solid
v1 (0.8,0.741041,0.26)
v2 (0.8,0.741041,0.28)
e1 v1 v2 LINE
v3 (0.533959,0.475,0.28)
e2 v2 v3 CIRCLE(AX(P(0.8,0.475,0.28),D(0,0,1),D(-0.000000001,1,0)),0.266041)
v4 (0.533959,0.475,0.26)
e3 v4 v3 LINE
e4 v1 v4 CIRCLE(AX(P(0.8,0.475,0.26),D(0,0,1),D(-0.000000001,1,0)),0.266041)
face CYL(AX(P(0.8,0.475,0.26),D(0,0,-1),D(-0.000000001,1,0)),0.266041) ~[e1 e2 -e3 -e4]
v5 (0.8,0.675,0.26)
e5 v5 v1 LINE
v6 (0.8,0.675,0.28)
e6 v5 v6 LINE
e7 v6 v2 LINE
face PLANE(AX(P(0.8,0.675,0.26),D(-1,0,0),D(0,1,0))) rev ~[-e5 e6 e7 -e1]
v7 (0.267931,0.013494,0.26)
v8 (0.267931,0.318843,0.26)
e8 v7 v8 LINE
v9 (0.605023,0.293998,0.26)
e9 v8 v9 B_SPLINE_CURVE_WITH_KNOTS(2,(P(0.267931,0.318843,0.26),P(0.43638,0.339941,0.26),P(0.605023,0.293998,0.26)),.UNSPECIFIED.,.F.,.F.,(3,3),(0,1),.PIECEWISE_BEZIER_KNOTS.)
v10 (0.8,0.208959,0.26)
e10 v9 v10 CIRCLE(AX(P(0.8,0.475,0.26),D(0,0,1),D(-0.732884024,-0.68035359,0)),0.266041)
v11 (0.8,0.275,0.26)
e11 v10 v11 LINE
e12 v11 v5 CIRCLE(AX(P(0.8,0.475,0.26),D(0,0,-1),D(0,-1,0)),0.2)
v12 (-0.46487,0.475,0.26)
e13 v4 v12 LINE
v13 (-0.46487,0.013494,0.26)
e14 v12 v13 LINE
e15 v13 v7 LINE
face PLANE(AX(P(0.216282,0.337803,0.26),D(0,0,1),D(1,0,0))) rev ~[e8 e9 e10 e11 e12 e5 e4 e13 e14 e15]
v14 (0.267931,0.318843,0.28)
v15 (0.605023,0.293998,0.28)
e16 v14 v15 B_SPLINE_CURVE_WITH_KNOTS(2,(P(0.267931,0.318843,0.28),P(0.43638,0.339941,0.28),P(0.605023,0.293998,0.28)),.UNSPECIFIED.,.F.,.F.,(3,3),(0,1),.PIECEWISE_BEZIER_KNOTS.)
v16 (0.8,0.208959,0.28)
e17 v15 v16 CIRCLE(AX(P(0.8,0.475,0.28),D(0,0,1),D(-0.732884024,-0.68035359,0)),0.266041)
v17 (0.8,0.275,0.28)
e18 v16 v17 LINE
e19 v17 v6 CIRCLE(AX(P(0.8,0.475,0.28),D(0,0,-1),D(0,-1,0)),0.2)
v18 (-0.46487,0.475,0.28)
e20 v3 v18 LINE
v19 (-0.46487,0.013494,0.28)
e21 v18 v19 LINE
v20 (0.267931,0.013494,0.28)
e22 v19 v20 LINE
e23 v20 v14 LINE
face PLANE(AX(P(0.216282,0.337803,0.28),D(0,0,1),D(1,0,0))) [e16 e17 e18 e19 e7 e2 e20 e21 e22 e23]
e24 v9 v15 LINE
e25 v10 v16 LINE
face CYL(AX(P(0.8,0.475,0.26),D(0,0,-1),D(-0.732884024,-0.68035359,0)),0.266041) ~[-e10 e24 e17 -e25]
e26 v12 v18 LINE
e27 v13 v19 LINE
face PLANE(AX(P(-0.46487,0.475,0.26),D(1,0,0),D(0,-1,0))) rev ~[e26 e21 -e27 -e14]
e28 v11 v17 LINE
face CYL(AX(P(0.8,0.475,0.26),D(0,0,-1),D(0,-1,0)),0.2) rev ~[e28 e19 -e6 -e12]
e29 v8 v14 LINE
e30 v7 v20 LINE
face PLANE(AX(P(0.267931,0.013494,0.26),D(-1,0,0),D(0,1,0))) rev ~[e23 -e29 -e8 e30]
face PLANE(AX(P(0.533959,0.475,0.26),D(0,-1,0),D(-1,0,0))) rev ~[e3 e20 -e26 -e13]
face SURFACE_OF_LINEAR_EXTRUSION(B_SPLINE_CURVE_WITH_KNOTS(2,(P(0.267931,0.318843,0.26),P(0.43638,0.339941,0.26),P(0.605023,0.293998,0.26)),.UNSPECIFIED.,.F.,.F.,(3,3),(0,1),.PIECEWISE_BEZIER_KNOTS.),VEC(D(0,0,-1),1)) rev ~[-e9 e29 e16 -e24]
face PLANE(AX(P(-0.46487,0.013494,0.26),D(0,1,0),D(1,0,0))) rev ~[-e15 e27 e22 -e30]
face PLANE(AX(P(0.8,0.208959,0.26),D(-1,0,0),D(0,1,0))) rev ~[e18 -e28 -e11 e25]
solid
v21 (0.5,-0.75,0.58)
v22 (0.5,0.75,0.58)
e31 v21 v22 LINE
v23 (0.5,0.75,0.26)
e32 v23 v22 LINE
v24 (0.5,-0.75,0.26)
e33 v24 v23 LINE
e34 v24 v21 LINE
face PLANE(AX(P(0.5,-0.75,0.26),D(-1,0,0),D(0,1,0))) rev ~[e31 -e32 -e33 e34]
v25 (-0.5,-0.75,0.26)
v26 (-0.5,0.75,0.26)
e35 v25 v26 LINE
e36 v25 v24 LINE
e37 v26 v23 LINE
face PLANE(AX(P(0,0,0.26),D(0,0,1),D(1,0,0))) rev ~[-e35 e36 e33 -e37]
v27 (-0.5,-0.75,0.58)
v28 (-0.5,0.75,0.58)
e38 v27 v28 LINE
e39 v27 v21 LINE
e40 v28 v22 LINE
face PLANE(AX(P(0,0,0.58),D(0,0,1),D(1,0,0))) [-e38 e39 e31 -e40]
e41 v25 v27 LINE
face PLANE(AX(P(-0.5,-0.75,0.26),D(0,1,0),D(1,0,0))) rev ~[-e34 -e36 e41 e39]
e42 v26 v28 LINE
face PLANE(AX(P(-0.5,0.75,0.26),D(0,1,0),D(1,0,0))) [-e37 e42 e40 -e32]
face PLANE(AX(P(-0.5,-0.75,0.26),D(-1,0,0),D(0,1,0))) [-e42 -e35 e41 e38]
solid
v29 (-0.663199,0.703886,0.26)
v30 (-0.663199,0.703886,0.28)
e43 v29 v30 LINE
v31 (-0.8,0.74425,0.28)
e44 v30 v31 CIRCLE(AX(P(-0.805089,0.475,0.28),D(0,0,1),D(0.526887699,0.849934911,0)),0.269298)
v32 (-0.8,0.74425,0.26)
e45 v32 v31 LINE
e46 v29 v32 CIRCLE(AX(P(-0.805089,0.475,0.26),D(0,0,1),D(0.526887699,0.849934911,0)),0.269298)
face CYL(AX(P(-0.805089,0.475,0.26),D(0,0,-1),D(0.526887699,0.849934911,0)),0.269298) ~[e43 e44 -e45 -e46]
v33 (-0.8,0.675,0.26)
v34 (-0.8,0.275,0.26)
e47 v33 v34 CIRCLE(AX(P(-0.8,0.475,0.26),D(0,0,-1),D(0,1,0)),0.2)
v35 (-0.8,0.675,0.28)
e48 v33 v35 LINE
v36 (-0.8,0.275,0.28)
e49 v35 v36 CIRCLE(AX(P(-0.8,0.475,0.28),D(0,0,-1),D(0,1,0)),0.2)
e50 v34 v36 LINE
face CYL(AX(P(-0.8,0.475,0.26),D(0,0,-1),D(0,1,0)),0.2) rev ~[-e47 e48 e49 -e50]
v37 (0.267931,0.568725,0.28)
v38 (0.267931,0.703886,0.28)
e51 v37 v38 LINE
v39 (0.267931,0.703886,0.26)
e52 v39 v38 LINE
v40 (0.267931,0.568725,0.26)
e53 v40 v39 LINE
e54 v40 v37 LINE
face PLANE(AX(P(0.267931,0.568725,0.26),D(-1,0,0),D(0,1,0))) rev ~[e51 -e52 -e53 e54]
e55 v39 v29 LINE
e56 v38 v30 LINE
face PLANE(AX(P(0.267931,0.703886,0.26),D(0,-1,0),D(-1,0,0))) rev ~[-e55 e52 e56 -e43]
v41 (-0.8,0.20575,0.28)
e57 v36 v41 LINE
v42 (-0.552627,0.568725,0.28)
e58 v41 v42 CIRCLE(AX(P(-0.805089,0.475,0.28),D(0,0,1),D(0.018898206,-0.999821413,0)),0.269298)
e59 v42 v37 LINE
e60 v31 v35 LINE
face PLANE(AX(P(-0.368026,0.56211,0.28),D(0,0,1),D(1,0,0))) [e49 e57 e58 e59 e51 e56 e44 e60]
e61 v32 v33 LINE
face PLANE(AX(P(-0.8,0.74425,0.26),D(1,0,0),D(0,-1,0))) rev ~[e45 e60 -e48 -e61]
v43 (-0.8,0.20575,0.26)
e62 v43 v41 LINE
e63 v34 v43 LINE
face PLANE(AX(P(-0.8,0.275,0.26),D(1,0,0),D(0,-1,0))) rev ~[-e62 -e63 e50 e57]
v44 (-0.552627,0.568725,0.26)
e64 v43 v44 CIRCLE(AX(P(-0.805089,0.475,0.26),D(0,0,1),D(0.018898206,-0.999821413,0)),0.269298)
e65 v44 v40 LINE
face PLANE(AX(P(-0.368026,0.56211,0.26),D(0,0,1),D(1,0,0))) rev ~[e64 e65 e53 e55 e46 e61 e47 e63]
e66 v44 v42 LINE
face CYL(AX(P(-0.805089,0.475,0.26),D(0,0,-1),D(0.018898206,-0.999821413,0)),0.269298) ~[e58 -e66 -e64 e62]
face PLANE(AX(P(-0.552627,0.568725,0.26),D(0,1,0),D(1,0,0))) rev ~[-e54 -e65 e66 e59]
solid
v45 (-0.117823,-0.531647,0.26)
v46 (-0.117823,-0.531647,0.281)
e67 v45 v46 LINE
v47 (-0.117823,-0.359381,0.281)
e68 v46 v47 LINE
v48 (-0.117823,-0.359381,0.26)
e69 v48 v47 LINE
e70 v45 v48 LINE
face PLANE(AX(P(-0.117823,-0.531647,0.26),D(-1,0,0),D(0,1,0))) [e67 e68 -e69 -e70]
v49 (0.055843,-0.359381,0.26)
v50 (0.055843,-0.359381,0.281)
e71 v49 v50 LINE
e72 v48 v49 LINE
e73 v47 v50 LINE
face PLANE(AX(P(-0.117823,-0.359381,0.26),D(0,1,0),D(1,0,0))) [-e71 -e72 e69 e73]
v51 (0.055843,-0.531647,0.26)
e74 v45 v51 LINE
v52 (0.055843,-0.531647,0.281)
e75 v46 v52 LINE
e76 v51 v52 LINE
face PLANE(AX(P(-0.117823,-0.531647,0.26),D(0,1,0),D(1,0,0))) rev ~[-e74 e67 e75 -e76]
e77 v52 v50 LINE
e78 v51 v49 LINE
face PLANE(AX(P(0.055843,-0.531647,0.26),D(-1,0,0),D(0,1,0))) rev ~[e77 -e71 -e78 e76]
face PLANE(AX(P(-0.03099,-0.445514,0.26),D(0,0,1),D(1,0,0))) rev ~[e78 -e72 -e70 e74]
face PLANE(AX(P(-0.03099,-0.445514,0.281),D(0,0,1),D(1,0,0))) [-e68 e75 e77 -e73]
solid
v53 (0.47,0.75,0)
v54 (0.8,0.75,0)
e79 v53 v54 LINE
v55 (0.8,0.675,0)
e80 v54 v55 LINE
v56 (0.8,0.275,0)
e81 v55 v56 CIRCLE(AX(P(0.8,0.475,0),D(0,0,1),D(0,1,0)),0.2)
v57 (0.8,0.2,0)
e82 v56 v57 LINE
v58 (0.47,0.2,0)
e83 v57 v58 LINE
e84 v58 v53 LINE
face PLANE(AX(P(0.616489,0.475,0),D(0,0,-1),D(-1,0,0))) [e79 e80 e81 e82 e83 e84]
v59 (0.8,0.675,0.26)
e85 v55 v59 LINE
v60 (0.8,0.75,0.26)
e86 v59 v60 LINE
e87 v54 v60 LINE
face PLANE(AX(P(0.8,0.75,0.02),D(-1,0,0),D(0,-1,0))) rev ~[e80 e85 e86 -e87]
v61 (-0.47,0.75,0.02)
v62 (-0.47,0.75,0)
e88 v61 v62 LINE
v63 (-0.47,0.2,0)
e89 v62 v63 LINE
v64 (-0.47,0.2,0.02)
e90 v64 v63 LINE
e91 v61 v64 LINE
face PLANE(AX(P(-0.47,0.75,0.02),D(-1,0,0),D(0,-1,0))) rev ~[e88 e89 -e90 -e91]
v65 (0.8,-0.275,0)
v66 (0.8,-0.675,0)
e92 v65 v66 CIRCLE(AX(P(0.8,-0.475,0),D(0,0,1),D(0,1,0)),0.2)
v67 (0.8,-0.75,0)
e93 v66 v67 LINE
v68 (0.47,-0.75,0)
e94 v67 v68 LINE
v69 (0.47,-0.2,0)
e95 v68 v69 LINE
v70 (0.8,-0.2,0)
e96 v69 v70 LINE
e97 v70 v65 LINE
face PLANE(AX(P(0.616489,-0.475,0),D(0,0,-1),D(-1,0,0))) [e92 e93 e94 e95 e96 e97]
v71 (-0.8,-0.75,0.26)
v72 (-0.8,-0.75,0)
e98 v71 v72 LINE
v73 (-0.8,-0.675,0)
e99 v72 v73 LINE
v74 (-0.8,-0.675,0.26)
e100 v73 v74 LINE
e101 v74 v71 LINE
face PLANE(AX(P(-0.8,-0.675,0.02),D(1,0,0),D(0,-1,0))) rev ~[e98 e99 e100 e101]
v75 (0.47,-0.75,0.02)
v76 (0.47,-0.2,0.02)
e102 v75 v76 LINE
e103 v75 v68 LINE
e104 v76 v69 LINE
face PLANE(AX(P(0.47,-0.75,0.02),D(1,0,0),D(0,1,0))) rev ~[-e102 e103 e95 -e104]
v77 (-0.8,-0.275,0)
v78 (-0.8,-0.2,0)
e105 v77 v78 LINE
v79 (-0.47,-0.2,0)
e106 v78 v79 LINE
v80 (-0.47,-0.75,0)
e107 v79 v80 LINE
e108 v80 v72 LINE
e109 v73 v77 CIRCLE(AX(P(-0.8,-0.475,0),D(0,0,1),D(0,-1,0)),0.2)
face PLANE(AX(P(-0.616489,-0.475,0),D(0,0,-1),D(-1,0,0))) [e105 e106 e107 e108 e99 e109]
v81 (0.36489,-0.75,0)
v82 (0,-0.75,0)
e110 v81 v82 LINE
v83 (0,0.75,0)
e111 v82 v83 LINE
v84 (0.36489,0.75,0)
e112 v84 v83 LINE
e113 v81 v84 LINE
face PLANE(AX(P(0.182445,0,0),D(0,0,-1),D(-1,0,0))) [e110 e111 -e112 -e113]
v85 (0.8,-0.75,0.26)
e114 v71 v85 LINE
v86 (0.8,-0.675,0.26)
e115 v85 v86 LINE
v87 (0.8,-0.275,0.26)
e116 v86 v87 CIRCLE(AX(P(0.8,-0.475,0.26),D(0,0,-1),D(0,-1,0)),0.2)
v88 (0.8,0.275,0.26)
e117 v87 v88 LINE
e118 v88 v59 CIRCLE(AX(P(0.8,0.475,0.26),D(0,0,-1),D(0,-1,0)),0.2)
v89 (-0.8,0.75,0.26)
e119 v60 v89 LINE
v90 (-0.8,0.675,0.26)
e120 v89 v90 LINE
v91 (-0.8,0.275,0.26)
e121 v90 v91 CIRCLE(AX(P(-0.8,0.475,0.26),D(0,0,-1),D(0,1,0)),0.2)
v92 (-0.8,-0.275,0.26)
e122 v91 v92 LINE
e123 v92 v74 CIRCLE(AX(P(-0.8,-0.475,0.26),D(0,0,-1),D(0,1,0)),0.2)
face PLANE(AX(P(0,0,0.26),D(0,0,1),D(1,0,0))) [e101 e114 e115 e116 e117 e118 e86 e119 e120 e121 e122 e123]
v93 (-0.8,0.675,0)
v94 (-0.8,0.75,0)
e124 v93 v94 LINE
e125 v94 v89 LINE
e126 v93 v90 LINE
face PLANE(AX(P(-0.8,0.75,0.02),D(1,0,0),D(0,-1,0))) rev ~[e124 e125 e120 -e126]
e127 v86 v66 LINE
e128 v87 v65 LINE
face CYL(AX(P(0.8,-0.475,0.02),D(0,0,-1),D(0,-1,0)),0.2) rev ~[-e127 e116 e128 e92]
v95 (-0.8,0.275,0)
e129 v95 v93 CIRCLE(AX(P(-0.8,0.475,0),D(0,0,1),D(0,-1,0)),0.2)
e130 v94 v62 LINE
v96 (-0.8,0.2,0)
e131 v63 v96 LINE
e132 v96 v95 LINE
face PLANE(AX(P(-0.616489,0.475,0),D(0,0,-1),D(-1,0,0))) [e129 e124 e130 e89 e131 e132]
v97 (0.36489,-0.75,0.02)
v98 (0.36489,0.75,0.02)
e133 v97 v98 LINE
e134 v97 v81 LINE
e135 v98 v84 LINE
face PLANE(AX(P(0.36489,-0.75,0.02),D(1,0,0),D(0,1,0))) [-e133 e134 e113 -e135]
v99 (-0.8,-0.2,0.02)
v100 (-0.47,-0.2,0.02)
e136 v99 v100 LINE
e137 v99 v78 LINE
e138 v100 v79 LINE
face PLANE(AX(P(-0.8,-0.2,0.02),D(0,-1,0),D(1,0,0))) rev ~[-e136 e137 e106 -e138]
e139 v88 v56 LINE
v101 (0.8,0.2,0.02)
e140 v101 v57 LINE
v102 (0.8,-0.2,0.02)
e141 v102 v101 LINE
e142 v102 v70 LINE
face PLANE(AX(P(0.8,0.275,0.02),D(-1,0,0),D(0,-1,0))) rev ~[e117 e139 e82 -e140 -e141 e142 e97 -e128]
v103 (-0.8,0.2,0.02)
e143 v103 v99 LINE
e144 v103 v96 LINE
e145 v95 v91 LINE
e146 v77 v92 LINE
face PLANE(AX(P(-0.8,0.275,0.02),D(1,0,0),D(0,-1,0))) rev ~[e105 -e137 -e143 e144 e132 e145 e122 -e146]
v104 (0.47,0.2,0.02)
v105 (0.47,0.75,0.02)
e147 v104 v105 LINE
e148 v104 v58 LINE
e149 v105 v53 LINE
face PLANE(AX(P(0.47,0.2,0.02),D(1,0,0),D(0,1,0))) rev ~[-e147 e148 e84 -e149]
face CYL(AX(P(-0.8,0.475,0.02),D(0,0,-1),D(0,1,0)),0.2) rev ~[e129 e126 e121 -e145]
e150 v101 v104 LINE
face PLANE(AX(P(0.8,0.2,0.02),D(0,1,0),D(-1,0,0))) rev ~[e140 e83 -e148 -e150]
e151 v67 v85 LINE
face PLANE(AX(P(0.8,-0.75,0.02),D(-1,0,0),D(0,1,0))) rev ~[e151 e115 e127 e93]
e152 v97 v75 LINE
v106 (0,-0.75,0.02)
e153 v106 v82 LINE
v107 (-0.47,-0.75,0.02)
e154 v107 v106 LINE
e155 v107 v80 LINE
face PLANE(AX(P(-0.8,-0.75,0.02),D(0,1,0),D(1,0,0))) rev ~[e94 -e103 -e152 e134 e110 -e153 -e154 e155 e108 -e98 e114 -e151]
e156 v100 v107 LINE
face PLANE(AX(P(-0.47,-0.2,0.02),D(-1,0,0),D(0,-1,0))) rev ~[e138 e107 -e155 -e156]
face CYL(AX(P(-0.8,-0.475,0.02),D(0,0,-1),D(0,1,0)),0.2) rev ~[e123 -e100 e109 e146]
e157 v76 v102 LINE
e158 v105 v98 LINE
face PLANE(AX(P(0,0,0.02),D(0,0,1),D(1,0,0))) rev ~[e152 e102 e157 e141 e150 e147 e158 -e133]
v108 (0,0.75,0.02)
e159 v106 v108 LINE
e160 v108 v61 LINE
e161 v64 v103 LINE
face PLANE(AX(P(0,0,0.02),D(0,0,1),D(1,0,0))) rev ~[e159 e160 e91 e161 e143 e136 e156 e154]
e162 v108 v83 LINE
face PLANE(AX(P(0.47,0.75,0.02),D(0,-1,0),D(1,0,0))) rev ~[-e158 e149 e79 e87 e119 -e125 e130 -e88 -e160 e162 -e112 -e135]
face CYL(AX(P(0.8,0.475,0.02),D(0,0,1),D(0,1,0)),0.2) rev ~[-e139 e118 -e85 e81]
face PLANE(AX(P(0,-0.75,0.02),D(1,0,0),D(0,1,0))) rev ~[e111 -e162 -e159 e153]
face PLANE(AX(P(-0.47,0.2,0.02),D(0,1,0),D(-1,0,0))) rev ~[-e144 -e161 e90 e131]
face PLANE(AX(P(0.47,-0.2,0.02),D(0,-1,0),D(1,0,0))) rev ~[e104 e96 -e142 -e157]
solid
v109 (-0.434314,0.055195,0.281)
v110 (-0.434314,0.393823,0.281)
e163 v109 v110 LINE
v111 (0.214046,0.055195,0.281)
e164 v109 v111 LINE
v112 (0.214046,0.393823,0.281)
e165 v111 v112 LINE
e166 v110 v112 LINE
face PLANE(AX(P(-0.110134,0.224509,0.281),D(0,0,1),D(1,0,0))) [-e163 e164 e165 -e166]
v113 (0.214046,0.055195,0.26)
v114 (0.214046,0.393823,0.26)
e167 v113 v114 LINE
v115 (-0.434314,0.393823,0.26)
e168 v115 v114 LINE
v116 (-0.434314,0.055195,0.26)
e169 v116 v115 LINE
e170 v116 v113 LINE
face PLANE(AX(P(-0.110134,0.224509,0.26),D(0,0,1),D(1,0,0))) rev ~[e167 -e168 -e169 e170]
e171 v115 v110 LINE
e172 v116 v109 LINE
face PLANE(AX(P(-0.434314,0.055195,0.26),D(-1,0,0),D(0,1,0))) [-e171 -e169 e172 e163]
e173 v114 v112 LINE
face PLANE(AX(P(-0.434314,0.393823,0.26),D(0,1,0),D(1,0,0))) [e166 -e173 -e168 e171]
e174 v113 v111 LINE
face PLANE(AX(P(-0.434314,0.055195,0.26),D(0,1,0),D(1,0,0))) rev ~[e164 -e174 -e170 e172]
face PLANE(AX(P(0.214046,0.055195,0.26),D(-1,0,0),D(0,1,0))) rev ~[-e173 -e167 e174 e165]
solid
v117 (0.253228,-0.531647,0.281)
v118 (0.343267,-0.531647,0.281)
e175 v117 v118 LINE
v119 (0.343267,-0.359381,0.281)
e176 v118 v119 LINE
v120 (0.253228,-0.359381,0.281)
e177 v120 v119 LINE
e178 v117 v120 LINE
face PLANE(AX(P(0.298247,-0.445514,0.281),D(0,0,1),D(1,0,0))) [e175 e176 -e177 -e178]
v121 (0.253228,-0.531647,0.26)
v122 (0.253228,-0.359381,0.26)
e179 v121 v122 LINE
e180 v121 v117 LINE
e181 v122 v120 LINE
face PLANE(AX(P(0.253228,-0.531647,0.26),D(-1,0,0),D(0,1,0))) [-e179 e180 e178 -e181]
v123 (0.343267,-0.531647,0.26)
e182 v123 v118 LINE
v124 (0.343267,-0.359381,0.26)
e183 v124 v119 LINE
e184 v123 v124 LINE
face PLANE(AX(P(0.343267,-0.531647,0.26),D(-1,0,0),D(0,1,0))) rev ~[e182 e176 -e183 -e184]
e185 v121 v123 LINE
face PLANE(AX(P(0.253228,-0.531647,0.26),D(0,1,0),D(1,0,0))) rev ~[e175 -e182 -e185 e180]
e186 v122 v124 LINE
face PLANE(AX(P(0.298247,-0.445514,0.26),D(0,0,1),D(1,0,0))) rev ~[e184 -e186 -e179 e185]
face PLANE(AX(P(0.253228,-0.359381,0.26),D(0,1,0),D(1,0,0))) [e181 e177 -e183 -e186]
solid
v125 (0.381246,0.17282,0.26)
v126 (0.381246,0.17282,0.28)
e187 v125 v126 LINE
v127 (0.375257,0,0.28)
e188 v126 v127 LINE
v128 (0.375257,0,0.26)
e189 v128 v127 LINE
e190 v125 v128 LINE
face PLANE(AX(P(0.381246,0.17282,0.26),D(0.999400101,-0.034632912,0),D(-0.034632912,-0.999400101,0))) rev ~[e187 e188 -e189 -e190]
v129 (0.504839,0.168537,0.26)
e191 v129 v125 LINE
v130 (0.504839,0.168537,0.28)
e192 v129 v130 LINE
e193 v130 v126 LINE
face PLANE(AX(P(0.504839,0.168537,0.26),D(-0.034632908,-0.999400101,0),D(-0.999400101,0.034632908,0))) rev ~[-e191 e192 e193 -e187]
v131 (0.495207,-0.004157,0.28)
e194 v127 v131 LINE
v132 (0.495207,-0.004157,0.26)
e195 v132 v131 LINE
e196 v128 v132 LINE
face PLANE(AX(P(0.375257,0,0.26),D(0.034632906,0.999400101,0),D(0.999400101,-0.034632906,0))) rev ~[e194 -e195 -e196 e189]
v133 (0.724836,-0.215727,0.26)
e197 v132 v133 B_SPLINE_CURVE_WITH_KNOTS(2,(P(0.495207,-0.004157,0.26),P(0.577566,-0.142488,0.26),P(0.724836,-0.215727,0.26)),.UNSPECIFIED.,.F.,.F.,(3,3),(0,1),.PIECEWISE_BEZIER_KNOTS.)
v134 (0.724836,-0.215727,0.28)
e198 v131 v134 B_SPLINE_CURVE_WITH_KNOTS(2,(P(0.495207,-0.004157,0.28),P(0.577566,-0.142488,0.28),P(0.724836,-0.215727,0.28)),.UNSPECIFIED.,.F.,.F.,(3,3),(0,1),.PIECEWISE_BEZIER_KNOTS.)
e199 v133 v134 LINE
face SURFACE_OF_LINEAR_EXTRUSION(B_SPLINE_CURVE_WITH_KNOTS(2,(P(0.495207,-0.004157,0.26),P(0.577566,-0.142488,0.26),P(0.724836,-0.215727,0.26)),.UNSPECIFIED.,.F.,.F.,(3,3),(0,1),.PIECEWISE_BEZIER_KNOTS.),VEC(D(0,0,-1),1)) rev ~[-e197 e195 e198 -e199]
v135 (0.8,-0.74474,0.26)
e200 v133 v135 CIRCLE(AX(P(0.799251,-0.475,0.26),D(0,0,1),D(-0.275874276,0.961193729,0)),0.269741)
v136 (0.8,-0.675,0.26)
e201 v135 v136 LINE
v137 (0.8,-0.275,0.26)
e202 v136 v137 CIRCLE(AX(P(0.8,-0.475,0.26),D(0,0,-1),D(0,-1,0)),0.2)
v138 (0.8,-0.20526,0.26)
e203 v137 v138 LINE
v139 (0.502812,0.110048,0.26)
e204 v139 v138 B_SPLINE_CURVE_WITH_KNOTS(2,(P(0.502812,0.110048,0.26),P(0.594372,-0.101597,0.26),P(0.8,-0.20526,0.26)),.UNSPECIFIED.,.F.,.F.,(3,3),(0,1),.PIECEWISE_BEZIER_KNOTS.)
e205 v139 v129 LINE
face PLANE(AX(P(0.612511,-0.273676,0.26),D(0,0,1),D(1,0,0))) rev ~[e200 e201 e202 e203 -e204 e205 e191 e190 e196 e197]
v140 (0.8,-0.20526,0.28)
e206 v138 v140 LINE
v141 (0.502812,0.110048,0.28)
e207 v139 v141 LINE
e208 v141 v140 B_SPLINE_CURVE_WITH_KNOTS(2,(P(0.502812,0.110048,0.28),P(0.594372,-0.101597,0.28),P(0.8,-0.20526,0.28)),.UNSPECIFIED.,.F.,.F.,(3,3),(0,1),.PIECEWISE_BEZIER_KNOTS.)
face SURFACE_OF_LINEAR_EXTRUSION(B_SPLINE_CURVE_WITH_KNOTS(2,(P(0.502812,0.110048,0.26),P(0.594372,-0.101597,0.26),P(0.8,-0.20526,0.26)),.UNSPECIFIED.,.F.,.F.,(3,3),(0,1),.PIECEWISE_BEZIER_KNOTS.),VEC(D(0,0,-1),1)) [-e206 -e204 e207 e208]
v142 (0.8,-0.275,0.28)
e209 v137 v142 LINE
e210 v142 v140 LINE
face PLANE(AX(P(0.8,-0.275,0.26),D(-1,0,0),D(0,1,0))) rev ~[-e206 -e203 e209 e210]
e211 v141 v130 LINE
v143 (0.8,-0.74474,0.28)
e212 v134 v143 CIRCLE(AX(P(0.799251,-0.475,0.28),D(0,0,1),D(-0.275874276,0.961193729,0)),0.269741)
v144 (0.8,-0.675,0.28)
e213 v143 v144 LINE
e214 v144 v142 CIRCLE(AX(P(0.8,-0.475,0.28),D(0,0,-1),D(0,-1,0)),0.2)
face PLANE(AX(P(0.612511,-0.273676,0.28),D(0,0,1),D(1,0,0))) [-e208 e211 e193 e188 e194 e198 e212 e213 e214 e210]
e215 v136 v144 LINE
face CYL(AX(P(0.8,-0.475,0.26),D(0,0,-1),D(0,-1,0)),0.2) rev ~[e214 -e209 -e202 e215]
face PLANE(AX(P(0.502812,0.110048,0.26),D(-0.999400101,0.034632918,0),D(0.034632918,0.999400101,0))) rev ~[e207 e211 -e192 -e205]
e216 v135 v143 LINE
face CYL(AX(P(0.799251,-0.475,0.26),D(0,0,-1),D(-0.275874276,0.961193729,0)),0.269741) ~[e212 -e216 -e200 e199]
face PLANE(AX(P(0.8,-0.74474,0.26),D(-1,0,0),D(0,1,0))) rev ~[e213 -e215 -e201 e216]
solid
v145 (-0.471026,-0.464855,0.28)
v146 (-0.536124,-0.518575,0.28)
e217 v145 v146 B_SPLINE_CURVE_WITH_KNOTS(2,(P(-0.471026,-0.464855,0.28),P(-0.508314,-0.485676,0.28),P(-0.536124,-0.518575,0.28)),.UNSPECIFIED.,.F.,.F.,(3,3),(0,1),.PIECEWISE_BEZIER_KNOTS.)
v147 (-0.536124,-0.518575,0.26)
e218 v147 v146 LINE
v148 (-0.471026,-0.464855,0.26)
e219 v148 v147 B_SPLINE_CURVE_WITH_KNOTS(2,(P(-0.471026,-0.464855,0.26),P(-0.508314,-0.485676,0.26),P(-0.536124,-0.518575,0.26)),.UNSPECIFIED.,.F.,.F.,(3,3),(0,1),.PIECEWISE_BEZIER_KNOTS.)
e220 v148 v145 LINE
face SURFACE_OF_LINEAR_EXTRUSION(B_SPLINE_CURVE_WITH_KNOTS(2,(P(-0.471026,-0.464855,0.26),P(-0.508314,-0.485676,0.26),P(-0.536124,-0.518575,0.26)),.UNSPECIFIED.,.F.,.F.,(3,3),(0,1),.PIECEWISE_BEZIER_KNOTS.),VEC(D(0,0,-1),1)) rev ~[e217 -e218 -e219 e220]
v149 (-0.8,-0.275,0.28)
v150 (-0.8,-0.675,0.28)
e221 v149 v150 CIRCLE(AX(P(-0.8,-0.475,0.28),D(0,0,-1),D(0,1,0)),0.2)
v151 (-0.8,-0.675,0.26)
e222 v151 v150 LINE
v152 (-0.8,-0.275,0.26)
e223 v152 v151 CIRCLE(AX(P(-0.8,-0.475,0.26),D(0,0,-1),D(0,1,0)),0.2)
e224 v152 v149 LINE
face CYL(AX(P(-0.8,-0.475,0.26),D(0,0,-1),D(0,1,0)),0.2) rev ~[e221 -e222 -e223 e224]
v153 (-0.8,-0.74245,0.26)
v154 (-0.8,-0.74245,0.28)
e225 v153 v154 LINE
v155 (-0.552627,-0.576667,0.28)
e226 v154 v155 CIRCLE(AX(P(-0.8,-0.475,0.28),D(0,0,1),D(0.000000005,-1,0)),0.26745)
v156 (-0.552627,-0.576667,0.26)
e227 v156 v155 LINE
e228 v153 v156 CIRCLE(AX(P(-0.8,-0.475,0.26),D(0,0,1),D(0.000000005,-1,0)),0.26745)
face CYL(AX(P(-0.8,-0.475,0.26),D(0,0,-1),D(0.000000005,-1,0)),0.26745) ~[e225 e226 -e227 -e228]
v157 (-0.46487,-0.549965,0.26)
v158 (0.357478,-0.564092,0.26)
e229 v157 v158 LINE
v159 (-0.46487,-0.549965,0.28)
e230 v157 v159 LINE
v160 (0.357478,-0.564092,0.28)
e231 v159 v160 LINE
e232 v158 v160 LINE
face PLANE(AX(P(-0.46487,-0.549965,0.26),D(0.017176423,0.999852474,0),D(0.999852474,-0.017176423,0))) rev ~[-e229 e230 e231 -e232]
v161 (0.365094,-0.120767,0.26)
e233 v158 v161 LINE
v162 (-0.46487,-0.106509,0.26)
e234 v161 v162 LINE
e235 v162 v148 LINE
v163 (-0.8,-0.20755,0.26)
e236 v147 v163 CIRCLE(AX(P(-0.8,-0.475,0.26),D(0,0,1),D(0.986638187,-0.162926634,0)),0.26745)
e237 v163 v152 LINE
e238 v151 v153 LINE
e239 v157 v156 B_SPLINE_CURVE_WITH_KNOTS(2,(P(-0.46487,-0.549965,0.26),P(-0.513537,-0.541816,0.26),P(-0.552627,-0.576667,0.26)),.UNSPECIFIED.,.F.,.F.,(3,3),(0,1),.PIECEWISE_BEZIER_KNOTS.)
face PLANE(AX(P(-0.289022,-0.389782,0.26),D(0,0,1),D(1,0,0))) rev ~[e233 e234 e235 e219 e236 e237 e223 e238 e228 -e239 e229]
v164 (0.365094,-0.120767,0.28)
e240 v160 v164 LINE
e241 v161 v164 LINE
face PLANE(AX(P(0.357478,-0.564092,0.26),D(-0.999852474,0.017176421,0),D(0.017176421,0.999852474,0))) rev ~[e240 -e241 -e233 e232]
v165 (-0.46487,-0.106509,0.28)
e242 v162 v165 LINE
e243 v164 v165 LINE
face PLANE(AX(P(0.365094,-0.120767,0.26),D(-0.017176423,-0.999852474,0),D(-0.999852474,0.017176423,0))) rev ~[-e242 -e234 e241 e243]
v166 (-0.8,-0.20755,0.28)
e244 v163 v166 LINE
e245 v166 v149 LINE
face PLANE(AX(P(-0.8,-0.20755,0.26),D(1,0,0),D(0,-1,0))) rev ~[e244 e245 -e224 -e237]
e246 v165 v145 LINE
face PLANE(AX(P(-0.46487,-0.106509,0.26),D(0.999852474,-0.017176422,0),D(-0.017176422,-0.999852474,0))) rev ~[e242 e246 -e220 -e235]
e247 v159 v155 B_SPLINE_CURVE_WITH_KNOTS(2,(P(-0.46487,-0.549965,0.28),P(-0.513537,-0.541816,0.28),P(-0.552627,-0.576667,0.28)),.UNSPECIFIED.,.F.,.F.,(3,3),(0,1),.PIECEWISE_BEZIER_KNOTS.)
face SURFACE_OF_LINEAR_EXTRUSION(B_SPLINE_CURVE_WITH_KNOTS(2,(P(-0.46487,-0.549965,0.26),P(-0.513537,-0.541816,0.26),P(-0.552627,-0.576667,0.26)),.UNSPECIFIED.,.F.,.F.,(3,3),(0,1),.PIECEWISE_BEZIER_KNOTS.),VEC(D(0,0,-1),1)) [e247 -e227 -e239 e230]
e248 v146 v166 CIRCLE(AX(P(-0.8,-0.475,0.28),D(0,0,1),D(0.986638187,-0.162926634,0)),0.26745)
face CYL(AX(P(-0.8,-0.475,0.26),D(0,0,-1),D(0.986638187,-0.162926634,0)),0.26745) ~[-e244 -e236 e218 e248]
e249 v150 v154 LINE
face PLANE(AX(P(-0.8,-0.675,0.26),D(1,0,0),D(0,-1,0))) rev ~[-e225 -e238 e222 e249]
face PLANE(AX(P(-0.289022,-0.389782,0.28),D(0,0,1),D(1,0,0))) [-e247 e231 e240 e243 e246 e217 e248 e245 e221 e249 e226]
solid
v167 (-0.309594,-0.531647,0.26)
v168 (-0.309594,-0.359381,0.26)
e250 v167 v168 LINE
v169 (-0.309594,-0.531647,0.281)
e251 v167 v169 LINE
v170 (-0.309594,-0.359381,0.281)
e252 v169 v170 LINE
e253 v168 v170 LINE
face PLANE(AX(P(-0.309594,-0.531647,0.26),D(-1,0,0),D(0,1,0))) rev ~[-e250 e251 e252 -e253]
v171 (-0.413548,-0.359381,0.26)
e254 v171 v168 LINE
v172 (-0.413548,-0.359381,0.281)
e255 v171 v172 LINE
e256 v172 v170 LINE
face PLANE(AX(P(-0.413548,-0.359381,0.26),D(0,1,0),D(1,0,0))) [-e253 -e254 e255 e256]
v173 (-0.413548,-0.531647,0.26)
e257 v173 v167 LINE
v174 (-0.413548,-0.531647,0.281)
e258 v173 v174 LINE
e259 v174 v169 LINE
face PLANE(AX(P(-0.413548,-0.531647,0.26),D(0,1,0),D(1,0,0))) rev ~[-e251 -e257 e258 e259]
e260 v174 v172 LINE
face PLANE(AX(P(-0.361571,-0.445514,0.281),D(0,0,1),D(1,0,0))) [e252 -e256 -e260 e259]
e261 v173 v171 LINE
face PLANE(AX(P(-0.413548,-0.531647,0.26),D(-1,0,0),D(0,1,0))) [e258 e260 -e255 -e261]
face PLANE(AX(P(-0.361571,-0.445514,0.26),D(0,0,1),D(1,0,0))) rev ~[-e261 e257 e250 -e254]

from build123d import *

# Parameters (mm, degrees)
BOSS_EXTRUDE1_DEPTH   = 0.24
SKETCH3_W             = 0.364889656
SKETCH3_H             = 1.5
BOSS_EXTRUDE2_DEPTH   = 0.02
BOSS_EXTRUDE3_DEPTH   = 0.02
BOSS_EXTRUDE3_2_DEPTH = 0.02
BOSS_EXTRUDE3_3_DEPTH = 0.02
BOSS_EXTRUDE3_4_DEPTH = 0.02
SKETCH5_W             = 0.648359628
SKETCH5_H             = 0.33862858
BOSS_EXTRUDE4_DEPTH   = 0.021
SKETCH5_W_2           = 0.173666543
SKETCH5_H_2           = 0.172266029
BOSS_EXTRUDE4_2_DEPTH = 0.021
SKETCH5_W_3           = 0.103954437
BOSS_EXTRUDE4_3_DEPTH = 0.021
SKETCH5_W_4           = 0.090039485
BOSS_EXTRUDE4_4_DEPTH = 0.021
SKETCH6_W             = 1
SKETCH6_H             = 1.5
BOSS_EXTRUDE5_DEPTH   = 0.32


with BuildPart() as part:
    # Sketch2 → Boss-Extrude1 (new body)
    with BuildSketch(Plane(origin=(0, 0, 0.02), x_dir=(-1, 0, 0), z_dir=(0, 0, -1))):
        with BuildLine():
            Line((0.8, -0.75), (-0.8, -0.75))
            Line((-0.8, -0.75), (-0.8, -0.675))
            ThreePointArc((-0.8, -0.675), (-0.6, -0.475), (-0.8, -0.275))
            Line((-0.8, -0.275), (-0.8, 0.275))
            ThreePointArc((-0.8, 0.275), (-0.6, 0.475), (-0.8, 0.675))
            Line((-0.8, 0.675), (-0.8, 0.75))
            Line((-0.8, 0.75), (0.8, 0.75))
            Line((0.8, 0.75), (0.8, 0.675))
            ThreePointArc((0.8, 0.675), (0.6, 0.475), (0.8, 0.275))
            Line((0.8, 0.275), (0.8, -0.275))
            ThreePointArc((0.8, -0.275), (0.6, -0.475), (0.8, -0.675))
            Line((0.8, -0.675), (0.8, -0.75))
        make_face()
    extrude(amount=-BOSS_EXTRUDE1_DEPTH)

    # Sketch3 → Boss-Extrude2 (add)
    with BuildSketch(Plane(origin=(0, 0, 0.02), x_dir=(-1, 0, 0), z_dir=(0, 0, -1))):
        with BuildLine():
            ThreePointArc((-0.8, 0.675), (-0.6, 0.475), (-0.8, 0.275))
            Line((-0.8, 0.275), (-0.8, 0.2))
            Line((-0.8, 0.2), (-0.47, 0.2))
            Line((-0.47, 0.2), (-0.47, 0.75))
            Line((-0.47, 0.75), (-0.8, 0.75))
            Line((-0.8, 0.75), (-0.8, 0.675))
        make_face()
        with BuildLine():
            Line((0.8, 0.75), (0.47, 0.75))
            Line((0.47, 0.75), (0.47, 0.2))
            Line((0.47, 0.2), (0.8, 0.2))
            Line((0.8, 0.2), (0.8, 0.275))
            ThreePointArc((0.8, 0.275), (0.6, 0.475), (0.8, 0.675))
            Line((0.8, 0.675), (0.8, 0.75))
        make_face()
        with BuildLine():
            Line((0.47, -0.2), (0.47, -0.75))
            Line((0.47, -0.75), (0.8, -0.75))
            Line((0.8, -0.75), (0.8, -0.675))
            ThreePointArc((0.8, -0.675), (0.6, -0.475), (0.8, -0.275))
            Line((0.8, -0.275), (0.8, -0.2))
            Line((0.8, -0.2), (0.47, -0.2))
        make_face()
        with BuildLine():
            Line((-0.47, -0.2), (-0.8, -0.2))
            Line((-0.8, -0.2), (-0.8, -0.275))
            ThreePointArc((-0.8, -0.275), (-0.6, -0.475), (-0.8, -0.675))
            Line((-0.8, -0.675), (-0.8, -0.75))
            Line((-0.8, -0.75), (-0.47, -0.75))
            Line((-0.47, -0.75), (-0.47, -0.2))
        make_face()
        with Locations((-0.182444828, 0)):
            Rectangle(SKETCH3_W, SKETCH3_H)
    extrude(amount=BOSS_EXTRUDE2_DEPTH)


with BuildPart() as body_2:
    # Sketch4 → Boss-Extrude3 (new body)
    with BuildSketch(Plane.XY.offset(0.26)):
        with BuildLine():
            Line((-0.55262711, 0.568724782), (0.267931494, 0.568724782))
            Line((0.267931494, 0.568724782), (0.267931494, 0.703885858))
            Line((0.267931494, 0.703885858), (-0.663199393, 0.703885858))
            ThreePointArc((-0.663199393, 0.703885858), (-0.728878813, 0.733289444), (-0.8, 0.744250009))
            Line((-0.8, 0.744250009), (-0.8, 0.675))
            ThreePointArc((-0.8, 0.675), (-0.6, 0.475), (-0.8, 0.275))
            Line((-0.8, 0.275), (-0.8, 0.205749991))
            ThreePointArc((-0.8, 0.205749991), (-0.582556434, 0.32334047), (-0.55262711, 0.568724782))
        make_face()
    extrude(amount=BOSS_EXTRUDE3_DEPTH)


with BuildPart() as body_3:
    # Sketch4 → Boss-Extrude3 2 (new body)
    with BuildSketch(Plane.XY.offset(0.26)):
        with BuildLine():
            ThreePointArc((-0.536123517, -0.518574745), (-0.59605929, -0.301974732), (-0.8, -0.207549899))
            Line((-0.8, -0.207549899), (-0.8, -0.275))
            ThreePointArc((-0.8, -0.275), (-0.6, -0.475), (-0.8, -0.675))
            Line((-0.8, -0.675), (-0.8, -0.742450101))
            ThreePointArc((-0.8, -0.742450101), (-0.651106302, -0.697171607), (-0.55262711, -0.576667151))
            add(Edge.make_bspline(
                [(-0.46486985, -0.549964588), (-0.51353684, -0.541816399), (-0.55262711, -0.576667151)],
                knots=[0, 0, 0, 1, 1, 1], degree=2))
            Line((-0.46486985, -0.549964588), (0.357478318, -0.564091672))
            Line((0.357478318, -0.564091672), (0.365094176, -0.120766819))
            Line((0.365094176, -0.120766819), (-0.46486985, -0.106508902))
            Line((-0.46486985, -0.106508902), (-0.47102587, -0.464855466))
            add(Edge.make_bspline(
                [(-0.47102587, -0.464855466), (-0.508313543, -0.485676411), (-0.536123517, -0.518574745)],
                knots=[0, 0, 0, 1, 1, 1], degree=2))
        make_face()
    extrude(amount=BOSS_EXTRUDE3_2_DEPTH)


with BuildPart() as body_4:
    # Sketch4 → Boss-Extrude3 3 (new body)
    with BuildSketch(Plane.XY.offset(0.26)):
        with BuildLine():
            Line((0.8, 0.675), (0.8, 0.741040809))
            ThreePointArc((0.8, 0.741040809), (0.61188074, 0.66311926), (0.533959191, 0.475))
            Line((0.533959191, 0.475), (-0.46486985, 0.475))
            Line((-0.46486985, 0.475), (-0.46486985, 0.013494022))
            Line((-0.46486985, 0.013494022), (0.267931494, 0.013494022))
            Line((0.267931494, 0.013494022), (0.267931494, 0.318843267))
            add(Edge.make_bspline(
                [(0.267931494, 0.318843267), (0.436380332, 0.339941299), (0.605022941, 0.293998181)],
                knots=[0, 0, 0, 1, 1, 1], degree=2))
            ThreePointArc((0.605022941, 0.293998181), (0.693642486, 0.231143913), (0.8, 0.208959191))
            Line((0.8, 0.208959191), (0.8, 0.275))
            ThreePointArc((0.8, 0.275), (0.6, 0.475), (0.8, 0.675))
        make_face()
    extrude(amount=BOSS_EXTRUDE3_3_DEPTH)


with BuildPart() as body_5:
    # Sketch4 → Boss-Extrude3 4 (new body)
    with BuildSketch(Plane.XY.offset(0.26)):
        with BuildLine():
            ThreePointArc((0.724836424, -0.215726527), (0.53219209, -0.51294441), (0.8, -0.74474008))
            Line((0.8, -0.74474008), (0.8, -0.675))
            ThreePointArc((0.8, -0.675), (0.6, -0.475), (0.8, -0.275))
            Line((0.8, -0.275), (0.8, -0.20525992))
            add(Edge.make_bspline(
                [(0.502812267, 0.110047945), (0.594372412, -0.101596658), (0.8, -0.20525992)],
                knots=[0, 0, 0, 1, 1, 1], degree=2))
            Line((0.502812267, 0.110047945), (0.504839123, 0.16853681))
            Line((0.504839123, 0.16853681), (0.381245584, 0.172819783))
            Line((0.381245584, 0.172819783), (0.375256739, 0))
            Line((0.375256739, 0), (0.495206718, -0.00415671))
            add(Edge.make_bspline(
                [(0.495206718, -0.00415671), (0.577565826, -0.142488492), (0.724836424, -0.215726527)],
                knots=[0, 0, 0, 1, 1, 1], degree=2))
        make_face()
    extrude(amount=BOSS_EXTRUDE3_4_DEPTH)


with BuildPart() as body_6:
    # Sketch5 → Boss-Extrude4 (new body)
    with BuildSketch(Plane.XY.offset(0.26)):
        with Locations((-0.110133942, 0.224509115)):
            Rectangle(SKETCH5_W, SKETCH5_H)
    extrude(amount=BOSS_EXTRUDE4_DEPTH)


with BuildPart() as body_7:
    # Sketch5 → Boss-Extrude4 2 (new body)
    with BuildSketch(Plane.XY.offset(0.26)):
        with Locations((-0.030990211, -0.445513551)):
            Rectangle(SKETCH5_W_2, SKETCH5_H_2)
    extrude(amount=BOSS_EXTRUDE4_2_DEPTH)


with BuildPart() as body_8:
    # Sketch5 → Boss-Extrude4 3 (new body)
    with BuildSketch(Plane.XY.offset(0.26)):
        with Locations((-0.361571177, -0.445513551)):
            Rectangle(SKETCH5_W_3, SKETCH5_H_2)
    extrude(amount=BOSS_EXTRUDE4_3_DEPTH)


with BuildPart() as body_9:
    # Sketch5 → Boss-Extrude4 4 (new body)
    with BuildSketch(Plane.XY.offset(0.26)):
        with Locations((0.298247329, -0.445513551)):
            Rectangle(SKETCH5_W_4, SKETCH5_H_2)
    extrude(amount=BOSS_EXTRUDE4_4_DEPTH)


with BuildPart() as body_10:
    # Sketch6 → Boss-Extrude5 (new body)
    with BuildSketch(Plane.XY.offset(0.26)):
        Rectangle(SKETCH6_W, SKETCH6_H)
    extrude(amount=BOSS_EXTRUDE5_DEPTH)


solid = Compound([part.part, body_2.part, body_3.part, body_4.part, body_5.part, body_6.part, body_7.part, body_8.part, body_9.part, body_10.part])
